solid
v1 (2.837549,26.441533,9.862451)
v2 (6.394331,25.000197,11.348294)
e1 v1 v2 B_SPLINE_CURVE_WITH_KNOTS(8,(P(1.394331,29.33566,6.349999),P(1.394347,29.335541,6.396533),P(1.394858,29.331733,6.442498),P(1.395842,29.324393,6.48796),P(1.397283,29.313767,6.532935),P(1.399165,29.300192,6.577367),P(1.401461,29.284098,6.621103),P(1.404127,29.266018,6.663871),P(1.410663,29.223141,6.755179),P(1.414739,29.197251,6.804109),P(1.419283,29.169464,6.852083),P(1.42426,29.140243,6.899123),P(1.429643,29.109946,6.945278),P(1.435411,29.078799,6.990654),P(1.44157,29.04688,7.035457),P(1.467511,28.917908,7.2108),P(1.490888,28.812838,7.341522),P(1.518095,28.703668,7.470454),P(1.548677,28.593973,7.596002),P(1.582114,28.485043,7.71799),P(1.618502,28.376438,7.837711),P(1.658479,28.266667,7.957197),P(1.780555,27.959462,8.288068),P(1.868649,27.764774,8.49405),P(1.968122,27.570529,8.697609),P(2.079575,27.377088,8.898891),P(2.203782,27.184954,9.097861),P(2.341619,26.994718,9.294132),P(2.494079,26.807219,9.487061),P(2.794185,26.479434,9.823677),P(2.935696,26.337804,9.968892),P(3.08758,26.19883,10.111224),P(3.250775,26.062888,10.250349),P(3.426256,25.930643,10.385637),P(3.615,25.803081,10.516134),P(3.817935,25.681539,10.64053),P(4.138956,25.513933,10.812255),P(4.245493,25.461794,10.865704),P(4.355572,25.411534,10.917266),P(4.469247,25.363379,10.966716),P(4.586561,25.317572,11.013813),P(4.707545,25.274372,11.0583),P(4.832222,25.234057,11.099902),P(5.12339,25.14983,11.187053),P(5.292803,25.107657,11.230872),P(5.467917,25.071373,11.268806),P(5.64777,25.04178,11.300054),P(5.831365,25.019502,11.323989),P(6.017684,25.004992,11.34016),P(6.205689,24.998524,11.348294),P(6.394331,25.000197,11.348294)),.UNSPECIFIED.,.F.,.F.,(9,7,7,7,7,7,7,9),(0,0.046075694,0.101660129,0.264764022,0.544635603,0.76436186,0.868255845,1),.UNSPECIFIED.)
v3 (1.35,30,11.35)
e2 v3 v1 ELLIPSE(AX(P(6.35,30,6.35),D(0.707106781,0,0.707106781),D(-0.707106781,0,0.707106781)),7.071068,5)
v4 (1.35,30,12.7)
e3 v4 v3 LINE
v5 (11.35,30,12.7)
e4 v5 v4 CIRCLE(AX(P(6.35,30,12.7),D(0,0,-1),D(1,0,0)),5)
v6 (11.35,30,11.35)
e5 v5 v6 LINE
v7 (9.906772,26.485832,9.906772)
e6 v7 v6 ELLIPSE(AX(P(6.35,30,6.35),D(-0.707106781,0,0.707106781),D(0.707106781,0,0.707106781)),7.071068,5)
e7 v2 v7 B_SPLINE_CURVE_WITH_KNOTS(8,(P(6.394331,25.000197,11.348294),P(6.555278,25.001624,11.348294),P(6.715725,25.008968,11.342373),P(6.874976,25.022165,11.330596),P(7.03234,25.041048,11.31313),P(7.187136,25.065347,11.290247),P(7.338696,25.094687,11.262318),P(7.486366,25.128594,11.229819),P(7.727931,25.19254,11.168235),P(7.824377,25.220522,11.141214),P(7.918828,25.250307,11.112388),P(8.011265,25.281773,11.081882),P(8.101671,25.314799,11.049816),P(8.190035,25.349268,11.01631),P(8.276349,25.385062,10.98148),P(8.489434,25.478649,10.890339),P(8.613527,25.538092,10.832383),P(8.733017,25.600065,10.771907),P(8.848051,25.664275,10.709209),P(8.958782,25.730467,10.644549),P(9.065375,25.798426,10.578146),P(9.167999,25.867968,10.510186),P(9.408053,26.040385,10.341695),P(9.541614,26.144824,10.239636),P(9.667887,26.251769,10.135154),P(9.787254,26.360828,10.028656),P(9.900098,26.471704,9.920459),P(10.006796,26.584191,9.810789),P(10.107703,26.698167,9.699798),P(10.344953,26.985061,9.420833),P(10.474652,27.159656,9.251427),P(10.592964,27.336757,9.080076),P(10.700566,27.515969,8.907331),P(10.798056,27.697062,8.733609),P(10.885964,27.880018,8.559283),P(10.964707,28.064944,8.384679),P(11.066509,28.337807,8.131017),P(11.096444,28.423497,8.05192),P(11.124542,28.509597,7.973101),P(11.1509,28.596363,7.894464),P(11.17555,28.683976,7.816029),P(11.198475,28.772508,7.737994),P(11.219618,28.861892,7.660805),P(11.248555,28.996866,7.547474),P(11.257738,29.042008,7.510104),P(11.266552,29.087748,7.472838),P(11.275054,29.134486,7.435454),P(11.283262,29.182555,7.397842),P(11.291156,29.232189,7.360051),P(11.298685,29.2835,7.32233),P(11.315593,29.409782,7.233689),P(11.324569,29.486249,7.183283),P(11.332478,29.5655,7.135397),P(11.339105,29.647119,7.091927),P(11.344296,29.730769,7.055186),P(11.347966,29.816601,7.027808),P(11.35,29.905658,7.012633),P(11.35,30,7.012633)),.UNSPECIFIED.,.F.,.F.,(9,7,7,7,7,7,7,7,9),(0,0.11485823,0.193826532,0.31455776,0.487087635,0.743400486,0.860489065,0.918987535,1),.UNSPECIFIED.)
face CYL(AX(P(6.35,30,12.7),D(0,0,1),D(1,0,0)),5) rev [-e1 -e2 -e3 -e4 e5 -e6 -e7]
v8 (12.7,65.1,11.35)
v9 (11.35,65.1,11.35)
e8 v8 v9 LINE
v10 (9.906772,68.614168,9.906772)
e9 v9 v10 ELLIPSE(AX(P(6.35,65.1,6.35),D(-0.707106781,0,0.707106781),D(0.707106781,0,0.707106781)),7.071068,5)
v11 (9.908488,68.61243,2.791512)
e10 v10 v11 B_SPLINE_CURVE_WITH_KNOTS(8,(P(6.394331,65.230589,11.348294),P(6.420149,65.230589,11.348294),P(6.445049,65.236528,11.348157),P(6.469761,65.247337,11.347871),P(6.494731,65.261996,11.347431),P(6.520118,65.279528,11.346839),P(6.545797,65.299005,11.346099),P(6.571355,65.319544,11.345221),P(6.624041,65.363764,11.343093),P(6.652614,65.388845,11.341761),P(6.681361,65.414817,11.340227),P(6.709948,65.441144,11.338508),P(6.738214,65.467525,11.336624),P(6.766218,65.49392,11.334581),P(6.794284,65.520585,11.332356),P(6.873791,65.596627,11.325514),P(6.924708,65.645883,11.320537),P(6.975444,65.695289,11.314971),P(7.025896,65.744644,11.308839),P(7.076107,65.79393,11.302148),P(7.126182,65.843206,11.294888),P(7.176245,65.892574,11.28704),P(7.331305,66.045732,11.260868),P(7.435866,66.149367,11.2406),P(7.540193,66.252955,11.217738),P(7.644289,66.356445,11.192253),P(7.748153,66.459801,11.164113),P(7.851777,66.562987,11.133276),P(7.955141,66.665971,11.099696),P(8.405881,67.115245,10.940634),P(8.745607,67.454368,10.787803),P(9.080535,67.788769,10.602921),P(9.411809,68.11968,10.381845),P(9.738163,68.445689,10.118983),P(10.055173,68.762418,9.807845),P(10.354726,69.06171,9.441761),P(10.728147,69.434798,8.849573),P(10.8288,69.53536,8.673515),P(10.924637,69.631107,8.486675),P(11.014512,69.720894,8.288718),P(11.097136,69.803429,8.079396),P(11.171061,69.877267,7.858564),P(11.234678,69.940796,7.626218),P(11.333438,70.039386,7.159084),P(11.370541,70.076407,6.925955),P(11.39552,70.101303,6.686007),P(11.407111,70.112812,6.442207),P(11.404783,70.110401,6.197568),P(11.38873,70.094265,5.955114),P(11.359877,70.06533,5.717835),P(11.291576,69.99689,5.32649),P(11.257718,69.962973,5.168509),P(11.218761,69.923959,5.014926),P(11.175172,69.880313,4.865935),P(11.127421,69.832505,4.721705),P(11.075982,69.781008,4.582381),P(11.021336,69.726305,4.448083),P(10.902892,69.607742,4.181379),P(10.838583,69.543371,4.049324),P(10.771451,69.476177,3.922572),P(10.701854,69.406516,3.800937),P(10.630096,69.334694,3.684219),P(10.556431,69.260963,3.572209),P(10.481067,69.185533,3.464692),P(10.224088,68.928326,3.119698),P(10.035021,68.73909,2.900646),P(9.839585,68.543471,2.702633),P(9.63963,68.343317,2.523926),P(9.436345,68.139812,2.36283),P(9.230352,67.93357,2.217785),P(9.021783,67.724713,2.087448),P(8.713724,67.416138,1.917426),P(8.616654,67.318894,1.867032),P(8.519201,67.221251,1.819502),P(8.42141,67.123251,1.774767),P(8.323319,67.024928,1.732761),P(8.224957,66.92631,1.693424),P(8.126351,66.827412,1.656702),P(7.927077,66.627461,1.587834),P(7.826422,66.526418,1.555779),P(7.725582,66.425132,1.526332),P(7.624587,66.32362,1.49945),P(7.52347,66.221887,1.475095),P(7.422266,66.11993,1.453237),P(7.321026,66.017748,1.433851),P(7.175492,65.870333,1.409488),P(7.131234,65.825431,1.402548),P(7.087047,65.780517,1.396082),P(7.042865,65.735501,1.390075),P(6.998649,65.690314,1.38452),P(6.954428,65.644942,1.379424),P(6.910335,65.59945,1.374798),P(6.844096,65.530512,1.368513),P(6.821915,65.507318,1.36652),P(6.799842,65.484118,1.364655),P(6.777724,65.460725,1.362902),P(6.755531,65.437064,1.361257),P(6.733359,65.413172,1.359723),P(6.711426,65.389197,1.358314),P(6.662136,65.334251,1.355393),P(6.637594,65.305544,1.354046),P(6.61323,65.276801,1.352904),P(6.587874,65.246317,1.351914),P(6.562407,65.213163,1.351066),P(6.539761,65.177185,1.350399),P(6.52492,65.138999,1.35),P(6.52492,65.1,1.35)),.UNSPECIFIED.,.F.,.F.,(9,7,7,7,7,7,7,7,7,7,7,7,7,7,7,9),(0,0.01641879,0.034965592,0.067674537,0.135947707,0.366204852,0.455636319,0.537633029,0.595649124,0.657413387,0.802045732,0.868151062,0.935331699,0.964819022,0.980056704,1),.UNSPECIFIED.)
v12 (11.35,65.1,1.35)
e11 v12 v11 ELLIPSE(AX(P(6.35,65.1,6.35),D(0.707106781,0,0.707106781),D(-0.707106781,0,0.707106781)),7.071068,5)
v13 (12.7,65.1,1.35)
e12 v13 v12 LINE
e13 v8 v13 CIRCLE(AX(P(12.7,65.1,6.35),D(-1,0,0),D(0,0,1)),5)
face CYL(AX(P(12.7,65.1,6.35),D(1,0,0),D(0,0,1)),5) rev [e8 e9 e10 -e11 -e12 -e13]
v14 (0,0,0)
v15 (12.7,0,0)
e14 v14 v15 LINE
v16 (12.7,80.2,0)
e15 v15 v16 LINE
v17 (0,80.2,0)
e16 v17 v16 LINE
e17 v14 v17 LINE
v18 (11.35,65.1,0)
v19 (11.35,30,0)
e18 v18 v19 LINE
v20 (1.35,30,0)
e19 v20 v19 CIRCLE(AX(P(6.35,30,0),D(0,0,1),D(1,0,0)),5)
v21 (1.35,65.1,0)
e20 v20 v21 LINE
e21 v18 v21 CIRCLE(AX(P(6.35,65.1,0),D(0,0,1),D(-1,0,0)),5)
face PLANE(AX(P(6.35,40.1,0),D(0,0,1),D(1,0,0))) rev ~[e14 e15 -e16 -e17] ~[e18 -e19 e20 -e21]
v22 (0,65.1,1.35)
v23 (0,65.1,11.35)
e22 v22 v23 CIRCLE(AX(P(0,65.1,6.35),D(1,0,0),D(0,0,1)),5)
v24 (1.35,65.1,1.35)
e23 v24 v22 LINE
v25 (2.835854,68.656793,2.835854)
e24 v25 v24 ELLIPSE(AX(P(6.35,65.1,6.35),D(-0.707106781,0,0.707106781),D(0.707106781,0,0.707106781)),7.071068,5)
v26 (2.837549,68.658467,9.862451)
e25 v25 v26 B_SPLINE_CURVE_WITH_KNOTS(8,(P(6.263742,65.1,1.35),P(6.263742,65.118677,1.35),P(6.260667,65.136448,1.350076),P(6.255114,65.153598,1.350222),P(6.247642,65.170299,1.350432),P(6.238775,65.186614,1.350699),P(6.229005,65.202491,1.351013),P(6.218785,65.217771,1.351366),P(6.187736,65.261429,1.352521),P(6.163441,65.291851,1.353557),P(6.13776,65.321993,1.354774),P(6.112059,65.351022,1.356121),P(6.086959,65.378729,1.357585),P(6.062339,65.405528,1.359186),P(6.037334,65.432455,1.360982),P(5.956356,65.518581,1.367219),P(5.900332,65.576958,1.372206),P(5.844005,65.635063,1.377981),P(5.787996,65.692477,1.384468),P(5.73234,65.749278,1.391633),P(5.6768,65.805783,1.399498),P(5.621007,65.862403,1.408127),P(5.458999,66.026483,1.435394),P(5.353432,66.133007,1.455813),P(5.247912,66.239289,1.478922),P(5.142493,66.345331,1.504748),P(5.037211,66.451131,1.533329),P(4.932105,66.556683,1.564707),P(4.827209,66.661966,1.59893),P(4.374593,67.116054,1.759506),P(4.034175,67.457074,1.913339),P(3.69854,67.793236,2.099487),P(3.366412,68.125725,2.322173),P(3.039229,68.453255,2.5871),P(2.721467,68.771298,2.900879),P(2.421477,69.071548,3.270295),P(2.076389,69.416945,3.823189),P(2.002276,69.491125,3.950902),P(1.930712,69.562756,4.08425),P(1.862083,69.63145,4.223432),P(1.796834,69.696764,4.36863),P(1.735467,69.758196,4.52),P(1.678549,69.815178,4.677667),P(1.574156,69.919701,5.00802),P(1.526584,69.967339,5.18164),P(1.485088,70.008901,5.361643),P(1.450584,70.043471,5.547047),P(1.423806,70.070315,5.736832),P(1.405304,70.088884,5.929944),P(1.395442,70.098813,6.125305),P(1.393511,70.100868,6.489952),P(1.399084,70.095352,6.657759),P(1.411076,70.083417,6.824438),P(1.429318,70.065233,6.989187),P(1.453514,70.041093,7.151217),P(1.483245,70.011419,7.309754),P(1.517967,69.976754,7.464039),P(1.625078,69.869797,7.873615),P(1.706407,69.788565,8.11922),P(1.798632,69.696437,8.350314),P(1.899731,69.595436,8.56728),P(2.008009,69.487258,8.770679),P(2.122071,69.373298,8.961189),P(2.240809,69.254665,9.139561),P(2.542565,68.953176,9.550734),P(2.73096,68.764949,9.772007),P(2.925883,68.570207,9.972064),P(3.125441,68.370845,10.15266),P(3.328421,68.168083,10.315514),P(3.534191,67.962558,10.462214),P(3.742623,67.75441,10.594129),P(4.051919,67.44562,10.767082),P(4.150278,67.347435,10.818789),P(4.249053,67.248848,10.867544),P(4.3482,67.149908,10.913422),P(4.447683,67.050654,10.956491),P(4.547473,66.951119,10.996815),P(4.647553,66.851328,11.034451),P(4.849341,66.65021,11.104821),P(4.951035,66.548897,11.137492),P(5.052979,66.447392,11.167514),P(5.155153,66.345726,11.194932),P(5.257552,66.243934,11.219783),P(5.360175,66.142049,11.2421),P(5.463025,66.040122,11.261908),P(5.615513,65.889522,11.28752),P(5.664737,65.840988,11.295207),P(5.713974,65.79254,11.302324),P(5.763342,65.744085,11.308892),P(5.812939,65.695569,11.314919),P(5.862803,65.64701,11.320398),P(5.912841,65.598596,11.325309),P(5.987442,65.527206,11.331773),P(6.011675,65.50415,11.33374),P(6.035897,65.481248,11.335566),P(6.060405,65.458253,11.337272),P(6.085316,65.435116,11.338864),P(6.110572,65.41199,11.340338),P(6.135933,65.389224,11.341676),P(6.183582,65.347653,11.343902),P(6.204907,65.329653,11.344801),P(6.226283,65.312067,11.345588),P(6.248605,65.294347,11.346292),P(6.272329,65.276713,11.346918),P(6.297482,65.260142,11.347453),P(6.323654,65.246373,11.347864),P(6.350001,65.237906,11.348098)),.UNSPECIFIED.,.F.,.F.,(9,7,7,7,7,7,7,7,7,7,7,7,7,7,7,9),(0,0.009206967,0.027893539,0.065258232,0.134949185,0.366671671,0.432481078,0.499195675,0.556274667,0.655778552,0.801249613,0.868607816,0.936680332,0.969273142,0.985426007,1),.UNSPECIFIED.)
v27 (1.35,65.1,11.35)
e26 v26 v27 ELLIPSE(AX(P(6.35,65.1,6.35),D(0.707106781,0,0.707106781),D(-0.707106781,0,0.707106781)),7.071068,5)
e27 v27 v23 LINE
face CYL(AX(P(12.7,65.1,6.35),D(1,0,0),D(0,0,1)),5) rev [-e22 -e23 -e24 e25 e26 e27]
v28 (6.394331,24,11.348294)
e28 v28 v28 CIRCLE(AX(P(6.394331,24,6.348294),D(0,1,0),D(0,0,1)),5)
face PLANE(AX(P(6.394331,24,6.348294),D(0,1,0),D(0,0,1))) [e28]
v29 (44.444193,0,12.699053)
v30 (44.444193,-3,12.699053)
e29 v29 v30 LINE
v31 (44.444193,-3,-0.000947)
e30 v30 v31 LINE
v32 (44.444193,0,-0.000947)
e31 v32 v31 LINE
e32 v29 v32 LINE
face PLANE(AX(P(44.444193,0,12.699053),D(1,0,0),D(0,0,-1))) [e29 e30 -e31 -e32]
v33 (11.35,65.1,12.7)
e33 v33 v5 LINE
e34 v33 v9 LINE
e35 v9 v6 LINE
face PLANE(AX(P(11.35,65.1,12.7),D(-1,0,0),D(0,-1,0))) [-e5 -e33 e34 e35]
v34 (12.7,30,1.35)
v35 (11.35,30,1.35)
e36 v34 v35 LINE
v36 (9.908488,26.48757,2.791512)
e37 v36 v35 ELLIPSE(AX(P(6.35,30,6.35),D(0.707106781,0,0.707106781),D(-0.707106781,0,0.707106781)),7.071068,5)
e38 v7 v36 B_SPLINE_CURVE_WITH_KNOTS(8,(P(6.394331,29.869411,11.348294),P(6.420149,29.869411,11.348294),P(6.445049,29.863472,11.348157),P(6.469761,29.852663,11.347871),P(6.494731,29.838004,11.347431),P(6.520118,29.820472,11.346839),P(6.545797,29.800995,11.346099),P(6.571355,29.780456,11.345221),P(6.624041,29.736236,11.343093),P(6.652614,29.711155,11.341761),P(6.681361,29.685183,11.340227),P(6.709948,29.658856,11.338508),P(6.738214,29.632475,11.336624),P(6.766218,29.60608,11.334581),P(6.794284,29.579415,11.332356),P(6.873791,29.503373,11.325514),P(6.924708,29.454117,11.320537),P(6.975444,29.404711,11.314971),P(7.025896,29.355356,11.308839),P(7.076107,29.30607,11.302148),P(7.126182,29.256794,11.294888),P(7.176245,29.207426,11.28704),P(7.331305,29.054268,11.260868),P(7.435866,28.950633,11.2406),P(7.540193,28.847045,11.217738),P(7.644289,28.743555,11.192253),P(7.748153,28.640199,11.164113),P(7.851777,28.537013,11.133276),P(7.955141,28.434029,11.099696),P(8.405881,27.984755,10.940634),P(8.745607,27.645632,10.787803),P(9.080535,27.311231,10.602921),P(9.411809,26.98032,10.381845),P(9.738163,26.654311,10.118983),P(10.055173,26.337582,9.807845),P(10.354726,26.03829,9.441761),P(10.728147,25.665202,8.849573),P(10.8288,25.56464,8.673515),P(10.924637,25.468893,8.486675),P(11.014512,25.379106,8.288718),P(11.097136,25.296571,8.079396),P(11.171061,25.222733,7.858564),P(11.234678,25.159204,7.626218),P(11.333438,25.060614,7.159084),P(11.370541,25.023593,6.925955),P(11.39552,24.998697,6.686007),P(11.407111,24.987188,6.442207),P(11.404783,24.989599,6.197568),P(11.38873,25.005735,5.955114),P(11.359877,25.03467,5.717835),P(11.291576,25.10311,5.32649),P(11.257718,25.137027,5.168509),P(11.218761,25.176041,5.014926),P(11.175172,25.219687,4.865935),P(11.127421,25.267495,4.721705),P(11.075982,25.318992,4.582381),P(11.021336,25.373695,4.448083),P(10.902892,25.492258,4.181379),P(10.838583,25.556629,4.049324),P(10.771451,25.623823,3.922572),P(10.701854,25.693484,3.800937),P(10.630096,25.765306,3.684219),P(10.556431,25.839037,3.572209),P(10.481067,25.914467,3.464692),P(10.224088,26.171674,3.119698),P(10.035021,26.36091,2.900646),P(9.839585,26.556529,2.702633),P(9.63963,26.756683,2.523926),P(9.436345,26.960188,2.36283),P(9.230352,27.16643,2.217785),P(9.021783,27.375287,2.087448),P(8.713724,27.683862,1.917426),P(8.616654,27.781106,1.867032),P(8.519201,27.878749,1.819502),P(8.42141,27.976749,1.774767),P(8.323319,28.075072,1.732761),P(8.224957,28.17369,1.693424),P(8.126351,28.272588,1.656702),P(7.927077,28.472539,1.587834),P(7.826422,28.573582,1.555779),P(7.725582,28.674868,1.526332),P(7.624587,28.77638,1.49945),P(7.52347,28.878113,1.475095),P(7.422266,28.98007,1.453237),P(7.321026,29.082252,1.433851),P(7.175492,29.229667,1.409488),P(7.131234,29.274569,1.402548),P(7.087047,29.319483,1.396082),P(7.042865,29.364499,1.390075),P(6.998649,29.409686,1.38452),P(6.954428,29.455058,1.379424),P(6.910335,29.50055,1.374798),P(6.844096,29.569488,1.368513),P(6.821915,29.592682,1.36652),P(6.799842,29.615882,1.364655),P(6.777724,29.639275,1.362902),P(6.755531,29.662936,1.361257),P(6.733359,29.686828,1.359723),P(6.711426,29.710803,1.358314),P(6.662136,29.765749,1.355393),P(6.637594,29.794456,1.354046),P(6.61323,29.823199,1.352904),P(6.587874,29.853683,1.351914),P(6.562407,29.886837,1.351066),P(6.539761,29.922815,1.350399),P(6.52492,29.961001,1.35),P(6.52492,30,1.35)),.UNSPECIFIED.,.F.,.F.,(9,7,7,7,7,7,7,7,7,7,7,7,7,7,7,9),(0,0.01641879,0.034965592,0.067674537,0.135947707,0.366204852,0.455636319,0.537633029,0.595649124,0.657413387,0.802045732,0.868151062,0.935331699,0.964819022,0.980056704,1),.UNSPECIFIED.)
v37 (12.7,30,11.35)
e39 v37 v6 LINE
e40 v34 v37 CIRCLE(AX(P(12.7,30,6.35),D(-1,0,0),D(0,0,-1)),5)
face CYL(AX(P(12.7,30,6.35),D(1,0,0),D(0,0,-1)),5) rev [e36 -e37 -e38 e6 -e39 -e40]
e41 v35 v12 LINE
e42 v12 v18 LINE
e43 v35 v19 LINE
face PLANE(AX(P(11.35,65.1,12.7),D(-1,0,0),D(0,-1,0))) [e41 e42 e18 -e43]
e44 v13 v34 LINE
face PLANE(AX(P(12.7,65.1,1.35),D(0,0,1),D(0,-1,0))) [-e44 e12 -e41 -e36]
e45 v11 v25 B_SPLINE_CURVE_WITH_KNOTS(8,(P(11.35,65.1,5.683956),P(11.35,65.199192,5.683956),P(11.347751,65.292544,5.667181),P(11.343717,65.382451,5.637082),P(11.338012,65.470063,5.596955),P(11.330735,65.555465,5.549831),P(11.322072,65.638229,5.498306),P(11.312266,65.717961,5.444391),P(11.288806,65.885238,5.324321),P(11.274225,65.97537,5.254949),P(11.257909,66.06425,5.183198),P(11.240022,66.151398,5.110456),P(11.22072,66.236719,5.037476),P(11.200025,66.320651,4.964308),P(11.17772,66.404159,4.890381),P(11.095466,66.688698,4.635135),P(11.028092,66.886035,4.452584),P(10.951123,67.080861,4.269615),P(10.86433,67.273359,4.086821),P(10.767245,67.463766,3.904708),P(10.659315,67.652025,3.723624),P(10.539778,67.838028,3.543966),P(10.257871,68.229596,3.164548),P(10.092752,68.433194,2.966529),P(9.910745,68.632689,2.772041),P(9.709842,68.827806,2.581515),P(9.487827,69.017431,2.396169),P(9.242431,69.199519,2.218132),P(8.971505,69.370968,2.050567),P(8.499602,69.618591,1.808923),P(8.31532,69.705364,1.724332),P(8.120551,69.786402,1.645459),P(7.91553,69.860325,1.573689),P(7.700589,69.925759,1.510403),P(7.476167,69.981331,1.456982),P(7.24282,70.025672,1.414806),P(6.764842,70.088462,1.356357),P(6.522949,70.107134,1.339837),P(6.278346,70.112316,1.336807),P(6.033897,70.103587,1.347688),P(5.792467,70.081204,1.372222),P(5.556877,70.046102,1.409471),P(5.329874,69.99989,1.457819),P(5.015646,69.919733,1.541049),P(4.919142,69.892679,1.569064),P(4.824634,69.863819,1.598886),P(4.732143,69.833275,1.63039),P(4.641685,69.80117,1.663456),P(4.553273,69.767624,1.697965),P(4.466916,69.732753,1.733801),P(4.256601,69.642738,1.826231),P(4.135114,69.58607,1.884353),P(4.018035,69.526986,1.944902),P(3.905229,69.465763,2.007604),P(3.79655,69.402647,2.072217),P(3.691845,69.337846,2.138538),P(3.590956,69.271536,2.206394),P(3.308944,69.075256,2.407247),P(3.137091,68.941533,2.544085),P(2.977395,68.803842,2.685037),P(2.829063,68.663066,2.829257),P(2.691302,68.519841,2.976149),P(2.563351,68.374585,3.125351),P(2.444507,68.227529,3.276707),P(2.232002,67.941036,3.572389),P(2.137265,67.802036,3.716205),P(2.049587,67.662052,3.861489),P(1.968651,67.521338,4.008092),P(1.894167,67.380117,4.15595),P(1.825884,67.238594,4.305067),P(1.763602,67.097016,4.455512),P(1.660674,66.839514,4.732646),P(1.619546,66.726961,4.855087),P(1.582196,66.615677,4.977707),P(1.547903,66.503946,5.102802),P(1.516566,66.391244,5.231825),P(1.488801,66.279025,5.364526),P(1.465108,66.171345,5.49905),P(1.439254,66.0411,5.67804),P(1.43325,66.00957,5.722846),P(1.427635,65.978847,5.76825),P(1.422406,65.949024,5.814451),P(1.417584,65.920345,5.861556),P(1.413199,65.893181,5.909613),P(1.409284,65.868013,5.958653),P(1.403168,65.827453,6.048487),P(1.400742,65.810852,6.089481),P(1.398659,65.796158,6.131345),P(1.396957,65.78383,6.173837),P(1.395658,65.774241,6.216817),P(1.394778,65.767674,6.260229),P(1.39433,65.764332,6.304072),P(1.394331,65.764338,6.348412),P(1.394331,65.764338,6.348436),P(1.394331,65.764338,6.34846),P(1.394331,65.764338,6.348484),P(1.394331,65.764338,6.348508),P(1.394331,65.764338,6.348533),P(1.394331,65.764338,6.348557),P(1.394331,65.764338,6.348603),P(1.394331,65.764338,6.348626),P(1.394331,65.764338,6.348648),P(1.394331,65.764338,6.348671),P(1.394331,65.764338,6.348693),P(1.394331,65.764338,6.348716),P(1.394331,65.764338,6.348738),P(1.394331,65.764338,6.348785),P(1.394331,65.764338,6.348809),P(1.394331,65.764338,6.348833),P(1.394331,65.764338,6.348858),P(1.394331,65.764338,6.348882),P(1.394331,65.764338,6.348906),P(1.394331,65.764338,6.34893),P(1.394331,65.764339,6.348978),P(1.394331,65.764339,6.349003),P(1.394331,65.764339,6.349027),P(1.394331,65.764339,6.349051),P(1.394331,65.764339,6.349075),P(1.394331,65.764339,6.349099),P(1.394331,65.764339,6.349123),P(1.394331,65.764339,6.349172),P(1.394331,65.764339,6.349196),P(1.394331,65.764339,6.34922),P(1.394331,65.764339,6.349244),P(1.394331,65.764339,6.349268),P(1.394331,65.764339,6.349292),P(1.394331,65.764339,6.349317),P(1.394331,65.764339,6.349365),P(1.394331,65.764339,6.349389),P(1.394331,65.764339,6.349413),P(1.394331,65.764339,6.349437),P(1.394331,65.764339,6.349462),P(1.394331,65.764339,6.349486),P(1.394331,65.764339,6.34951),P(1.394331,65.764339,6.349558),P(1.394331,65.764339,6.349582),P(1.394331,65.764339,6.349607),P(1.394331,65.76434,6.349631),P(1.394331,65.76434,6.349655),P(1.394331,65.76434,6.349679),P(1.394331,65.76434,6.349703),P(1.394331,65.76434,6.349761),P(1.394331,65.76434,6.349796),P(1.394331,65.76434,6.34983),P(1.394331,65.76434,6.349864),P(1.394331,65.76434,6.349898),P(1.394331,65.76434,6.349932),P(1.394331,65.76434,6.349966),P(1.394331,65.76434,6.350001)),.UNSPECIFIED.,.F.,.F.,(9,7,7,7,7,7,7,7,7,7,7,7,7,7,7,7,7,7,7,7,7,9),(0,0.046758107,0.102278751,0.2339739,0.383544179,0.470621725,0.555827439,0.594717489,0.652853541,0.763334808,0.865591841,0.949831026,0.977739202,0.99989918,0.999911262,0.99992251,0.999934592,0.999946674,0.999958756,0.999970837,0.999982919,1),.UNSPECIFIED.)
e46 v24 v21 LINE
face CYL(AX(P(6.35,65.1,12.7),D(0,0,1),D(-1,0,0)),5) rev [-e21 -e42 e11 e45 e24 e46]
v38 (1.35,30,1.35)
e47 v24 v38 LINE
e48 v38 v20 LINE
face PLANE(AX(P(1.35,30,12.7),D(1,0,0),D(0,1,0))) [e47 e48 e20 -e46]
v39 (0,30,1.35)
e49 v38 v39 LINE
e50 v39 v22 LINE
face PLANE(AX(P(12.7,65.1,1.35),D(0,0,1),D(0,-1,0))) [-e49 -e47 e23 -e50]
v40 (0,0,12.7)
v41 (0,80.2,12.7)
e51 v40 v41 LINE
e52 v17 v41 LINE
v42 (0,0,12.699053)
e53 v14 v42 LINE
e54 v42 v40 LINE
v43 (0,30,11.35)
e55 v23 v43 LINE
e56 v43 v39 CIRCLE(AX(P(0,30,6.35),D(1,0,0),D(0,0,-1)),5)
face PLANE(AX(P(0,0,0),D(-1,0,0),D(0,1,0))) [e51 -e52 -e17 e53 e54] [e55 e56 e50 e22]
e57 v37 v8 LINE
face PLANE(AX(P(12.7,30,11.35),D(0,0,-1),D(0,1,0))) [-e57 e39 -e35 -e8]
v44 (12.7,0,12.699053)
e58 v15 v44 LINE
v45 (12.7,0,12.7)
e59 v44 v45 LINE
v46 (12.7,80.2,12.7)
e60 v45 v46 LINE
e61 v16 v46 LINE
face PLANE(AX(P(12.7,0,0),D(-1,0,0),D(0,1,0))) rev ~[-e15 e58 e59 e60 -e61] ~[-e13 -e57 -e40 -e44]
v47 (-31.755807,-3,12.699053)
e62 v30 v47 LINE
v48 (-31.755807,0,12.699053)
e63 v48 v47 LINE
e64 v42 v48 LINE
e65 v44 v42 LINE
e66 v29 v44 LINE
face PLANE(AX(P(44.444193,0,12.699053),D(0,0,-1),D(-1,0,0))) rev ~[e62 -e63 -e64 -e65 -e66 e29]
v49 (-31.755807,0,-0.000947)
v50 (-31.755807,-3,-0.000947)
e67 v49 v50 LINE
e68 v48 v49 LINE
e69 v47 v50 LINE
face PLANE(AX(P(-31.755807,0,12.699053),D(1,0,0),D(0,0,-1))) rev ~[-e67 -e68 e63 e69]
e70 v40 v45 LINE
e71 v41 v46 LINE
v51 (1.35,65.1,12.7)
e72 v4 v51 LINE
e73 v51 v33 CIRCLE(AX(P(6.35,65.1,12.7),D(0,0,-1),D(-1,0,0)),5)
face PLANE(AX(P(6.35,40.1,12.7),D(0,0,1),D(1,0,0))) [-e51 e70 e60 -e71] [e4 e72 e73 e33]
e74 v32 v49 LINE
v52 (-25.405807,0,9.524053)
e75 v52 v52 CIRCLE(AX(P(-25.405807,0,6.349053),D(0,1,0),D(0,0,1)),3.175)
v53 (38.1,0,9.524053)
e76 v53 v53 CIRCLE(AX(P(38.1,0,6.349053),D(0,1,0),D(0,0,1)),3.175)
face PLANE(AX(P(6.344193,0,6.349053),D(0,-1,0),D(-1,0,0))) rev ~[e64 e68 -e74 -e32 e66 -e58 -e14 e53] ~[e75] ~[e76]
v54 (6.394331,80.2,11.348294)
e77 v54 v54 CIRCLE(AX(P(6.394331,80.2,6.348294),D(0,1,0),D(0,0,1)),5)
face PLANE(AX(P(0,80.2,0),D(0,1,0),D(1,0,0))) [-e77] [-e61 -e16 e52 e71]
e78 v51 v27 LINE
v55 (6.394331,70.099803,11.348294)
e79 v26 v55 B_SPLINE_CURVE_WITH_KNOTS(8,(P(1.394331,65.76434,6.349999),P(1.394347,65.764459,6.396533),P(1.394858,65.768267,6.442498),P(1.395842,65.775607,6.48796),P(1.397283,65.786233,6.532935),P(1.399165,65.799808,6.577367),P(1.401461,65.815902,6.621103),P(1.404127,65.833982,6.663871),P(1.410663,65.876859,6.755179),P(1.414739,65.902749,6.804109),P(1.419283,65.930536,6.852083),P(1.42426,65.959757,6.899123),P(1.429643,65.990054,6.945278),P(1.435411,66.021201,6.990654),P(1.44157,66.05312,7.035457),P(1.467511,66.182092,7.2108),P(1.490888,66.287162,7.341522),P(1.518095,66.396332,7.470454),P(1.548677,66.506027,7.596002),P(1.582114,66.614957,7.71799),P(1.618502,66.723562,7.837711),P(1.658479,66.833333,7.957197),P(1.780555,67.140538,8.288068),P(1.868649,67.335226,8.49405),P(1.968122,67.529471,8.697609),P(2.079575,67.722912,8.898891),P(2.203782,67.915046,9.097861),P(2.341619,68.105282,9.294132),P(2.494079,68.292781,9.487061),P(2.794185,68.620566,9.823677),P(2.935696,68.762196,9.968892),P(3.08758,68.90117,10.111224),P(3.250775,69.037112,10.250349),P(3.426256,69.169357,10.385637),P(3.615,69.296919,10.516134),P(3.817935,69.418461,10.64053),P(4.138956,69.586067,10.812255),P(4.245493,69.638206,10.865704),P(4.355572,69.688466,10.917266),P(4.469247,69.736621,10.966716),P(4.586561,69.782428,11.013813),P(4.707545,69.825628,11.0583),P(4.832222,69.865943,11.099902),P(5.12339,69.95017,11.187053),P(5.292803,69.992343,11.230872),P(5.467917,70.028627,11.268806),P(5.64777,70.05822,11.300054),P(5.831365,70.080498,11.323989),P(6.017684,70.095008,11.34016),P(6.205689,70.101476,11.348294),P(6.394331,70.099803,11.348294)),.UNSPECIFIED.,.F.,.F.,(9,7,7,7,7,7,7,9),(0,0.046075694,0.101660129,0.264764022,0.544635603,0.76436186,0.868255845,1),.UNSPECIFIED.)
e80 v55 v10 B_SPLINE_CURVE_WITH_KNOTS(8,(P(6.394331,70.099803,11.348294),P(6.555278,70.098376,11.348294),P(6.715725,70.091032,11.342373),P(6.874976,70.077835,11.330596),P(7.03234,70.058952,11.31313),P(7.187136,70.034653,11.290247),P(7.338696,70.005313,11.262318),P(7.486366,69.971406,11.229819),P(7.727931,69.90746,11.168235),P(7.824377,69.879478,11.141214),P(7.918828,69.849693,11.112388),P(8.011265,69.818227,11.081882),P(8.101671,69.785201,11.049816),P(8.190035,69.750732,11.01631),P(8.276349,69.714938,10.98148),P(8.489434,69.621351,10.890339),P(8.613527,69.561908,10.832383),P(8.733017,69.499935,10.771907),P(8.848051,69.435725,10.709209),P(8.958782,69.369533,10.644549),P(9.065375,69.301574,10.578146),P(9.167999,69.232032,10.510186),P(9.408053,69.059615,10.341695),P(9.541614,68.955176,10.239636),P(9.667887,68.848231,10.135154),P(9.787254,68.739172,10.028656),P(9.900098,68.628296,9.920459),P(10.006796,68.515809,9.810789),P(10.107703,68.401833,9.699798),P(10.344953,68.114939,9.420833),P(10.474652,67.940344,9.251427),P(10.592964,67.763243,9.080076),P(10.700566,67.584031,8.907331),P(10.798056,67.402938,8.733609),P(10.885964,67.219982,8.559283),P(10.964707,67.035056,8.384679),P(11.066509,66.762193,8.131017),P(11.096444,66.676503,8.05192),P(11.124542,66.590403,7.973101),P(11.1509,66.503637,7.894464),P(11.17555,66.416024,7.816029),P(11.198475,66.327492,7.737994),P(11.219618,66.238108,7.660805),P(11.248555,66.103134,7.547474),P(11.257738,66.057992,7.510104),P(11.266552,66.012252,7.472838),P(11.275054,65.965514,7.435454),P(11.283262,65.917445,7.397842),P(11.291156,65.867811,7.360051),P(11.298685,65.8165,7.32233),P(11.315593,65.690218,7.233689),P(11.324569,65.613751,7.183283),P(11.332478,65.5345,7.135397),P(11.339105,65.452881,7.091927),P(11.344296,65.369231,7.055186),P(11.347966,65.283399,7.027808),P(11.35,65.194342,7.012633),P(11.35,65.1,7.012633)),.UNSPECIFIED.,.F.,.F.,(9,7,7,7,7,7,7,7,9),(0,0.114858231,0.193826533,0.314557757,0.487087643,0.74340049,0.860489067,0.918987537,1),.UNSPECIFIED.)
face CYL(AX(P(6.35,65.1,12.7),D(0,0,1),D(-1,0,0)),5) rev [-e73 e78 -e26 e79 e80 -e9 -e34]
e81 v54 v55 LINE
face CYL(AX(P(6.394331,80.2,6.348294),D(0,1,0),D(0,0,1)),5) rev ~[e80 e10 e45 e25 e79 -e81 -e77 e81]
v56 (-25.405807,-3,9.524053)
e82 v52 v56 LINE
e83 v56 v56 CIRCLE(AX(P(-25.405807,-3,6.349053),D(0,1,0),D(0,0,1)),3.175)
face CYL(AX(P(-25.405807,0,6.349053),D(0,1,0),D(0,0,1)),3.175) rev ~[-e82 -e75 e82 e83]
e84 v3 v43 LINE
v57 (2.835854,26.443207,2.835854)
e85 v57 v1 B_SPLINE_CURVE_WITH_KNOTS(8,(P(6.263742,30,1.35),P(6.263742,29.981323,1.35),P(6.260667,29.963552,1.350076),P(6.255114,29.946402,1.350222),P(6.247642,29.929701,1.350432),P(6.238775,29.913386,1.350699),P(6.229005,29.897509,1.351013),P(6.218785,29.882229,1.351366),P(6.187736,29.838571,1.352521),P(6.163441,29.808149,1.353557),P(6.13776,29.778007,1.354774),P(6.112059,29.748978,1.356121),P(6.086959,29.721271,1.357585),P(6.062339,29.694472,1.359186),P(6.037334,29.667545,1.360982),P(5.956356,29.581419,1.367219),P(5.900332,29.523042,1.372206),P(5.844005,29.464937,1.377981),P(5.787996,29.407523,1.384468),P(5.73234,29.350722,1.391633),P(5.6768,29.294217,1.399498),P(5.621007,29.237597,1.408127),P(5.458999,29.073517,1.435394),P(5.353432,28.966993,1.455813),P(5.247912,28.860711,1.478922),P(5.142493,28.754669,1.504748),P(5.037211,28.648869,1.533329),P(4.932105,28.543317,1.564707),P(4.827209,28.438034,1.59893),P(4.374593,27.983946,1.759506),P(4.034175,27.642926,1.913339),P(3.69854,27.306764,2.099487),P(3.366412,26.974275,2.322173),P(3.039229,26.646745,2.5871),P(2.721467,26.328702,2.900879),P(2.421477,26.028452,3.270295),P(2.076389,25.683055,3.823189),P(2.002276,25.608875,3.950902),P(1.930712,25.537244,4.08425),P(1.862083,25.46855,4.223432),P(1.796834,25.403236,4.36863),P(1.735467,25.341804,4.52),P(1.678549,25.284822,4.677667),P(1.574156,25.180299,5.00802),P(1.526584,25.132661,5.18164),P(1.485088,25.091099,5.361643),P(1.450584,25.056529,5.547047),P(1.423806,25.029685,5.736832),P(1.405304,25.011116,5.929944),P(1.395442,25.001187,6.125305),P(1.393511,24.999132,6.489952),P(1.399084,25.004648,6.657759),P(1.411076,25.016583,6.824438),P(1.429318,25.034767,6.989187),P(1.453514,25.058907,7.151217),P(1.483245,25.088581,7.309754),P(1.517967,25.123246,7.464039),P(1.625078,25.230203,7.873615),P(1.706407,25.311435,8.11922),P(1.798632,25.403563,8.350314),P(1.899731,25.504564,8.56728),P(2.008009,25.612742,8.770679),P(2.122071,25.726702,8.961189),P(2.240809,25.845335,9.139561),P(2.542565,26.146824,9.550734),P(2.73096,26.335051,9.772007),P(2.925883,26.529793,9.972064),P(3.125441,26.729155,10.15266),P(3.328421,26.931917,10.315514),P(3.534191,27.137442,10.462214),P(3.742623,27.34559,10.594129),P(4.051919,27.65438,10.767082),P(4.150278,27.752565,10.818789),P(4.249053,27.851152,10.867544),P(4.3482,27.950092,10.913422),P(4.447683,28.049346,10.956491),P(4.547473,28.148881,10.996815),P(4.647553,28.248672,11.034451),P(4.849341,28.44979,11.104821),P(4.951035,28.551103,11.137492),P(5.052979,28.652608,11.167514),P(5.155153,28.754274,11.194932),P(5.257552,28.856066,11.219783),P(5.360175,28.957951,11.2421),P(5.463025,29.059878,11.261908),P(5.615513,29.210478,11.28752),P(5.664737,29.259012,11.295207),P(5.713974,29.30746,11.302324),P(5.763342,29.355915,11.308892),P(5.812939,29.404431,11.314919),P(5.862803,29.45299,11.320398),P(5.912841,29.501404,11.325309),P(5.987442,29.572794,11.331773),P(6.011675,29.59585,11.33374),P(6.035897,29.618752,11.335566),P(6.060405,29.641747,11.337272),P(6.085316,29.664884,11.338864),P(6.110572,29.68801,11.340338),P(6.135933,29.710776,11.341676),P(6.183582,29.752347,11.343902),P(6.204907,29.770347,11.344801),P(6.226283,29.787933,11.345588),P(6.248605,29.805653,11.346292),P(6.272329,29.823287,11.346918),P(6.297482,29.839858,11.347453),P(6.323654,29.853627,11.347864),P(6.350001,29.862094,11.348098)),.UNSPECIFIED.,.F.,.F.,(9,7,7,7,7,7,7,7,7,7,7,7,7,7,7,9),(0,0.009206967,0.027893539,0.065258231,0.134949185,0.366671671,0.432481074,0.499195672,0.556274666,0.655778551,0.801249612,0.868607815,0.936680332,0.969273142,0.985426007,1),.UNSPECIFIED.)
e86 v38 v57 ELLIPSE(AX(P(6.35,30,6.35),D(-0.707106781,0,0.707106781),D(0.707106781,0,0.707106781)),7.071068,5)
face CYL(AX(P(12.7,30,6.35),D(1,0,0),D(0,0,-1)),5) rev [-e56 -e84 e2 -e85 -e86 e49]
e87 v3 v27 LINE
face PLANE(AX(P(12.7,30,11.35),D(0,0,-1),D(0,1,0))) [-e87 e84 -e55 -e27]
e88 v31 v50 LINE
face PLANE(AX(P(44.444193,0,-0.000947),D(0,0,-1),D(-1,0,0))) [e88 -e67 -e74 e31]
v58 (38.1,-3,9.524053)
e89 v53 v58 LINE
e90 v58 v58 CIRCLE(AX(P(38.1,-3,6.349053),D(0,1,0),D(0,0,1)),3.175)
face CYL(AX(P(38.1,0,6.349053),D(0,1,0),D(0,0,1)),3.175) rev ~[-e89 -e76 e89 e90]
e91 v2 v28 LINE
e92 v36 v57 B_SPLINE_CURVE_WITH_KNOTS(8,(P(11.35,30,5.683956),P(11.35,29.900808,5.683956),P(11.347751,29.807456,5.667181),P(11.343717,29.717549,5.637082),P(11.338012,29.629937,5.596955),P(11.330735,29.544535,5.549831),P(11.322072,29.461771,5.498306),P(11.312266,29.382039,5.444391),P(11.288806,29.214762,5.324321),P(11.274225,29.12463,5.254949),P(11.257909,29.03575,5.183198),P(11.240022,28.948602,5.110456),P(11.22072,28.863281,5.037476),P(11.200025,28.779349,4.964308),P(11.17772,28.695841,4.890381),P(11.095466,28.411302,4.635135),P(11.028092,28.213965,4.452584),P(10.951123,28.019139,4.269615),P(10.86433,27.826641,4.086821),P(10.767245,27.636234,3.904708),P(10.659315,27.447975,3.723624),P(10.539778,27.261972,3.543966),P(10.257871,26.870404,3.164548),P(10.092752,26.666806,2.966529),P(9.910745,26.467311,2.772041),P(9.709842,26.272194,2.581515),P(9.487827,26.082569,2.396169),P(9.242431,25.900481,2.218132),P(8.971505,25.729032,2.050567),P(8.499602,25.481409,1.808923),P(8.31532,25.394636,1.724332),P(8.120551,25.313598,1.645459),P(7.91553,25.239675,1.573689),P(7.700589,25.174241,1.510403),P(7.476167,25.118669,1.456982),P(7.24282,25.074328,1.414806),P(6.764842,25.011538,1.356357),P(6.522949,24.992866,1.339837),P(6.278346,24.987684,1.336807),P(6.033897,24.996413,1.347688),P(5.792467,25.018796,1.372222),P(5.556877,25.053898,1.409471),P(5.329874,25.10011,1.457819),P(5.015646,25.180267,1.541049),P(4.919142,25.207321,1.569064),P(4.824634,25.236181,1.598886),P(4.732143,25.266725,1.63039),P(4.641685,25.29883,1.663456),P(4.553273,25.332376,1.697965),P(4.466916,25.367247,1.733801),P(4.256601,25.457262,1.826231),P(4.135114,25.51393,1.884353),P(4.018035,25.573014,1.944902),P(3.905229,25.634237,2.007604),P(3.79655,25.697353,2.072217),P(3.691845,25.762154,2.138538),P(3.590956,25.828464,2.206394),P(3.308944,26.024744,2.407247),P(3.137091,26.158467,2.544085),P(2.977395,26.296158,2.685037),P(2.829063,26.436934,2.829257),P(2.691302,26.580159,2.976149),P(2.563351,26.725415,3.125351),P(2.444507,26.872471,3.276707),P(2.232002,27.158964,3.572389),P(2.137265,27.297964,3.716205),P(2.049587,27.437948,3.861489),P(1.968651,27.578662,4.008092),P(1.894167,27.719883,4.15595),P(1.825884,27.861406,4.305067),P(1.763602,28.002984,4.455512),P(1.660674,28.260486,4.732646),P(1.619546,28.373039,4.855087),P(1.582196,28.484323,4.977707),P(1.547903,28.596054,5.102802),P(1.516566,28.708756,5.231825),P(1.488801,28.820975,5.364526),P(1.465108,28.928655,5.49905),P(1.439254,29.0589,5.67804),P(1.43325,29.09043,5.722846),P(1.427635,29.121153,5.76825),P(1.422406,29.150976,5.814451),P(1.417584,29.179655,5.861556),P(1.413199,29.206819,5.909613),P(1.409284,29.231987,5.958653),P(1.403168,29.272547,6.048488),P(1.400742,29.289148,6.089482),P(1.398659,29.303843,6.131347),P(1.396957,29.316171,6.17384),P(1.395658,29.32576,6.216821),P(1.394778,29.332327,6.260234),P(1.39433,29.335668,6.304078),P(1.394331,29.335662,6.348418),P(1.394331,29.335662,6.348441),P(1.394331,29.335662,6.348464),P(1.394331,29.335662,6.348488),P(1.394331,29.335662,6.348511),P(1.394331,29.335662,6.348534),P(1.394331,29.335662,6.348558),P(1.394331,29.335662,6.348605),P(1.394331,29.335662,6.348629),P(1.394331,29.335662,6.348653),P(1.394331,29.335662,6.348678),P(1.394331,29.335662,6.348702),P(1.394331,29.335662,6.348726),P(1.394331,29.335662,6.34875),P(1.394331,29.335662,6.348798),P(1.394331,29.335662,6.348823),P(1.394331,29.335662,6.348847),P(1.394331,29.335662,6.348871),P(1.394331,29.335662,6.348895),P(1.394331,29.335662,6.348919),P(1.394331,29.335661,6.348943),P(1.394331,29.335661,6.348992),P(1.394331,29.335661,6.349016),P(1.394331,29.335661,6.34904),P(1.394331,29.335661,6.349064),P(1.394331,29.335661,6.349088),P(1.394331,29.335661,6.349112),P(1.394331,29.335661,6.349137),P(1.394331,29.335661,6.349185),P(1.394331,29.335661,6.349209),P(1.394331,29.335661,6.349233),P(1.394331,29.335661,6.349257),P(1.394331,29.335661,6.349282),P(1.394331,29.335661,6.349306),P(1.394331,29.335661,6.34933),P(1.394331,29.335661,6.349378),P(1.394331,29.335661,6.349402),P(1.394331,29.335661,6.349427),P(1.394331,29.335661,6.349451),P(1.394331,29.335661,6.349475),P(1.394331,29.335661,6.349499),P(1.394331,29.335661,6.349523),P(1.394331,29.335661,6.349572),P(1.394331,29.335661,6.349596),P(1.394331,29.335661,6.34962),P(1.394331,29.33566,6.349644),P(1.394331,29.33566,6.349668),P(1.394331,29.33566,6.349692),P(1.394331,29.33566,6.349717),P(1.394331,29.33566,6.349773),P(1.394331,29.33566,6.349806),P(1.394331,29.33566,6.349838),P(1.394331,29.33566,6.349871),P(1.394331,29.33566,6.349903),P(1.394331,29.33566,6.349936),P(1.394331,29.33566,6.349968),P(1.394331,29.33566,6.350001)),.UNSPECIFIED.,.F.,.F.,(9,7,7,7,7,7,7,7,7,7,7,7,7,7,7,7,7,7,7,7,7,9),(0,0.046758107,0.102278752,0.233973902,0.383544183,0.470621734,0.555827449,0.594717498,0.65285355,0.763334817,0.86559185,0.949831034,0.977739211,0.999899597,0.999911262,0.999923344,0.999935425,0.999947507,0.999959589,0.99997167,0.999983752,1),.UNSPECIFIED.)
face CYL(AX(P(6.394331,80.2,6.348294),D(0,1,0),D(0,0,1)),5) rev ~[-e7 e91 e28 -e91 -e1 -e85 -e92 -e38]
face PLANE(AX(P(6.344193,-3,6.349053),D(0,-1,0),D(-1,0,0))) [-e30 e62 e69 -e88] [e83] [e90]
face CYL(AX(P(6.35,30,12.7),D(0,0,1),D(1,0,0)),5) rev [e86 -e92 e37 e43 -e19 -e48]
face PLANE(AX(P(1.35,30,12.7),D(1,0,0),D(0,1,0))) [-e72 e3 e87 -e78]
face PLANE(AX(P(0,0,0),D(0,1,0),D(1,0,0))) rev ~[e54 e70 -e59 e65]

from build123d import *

# Parameters (mm, degrees)
SKETCH1_W           = 12.7
SKETCH1_H           = 80.2
BOSS_EXTRUDE1_DEPTH = 12.7
SKETCH4_W           = 76.2
SKETCH4_H           = 12.7
BOSS_EXTRUDE3_DEPTH = 3
CUT_EXTRUDE5_DEPTH  = 23
CUT_EXTRUDE6_DEPTH  = 23
SKETCH16_R          = 5
CUT_EXTRUDE8_DEPTH  = 56.2
SKETCH17_R          = 3.175
CUT_EXTRUDE9_DEPTH  = 3
SKETCH18_R          = 3.175
CUT_EXTRUDE10_DEPTH = 3


with BuildPart() as part:
    # Sketch1 → Boss-Extrude1 (new body)
    with BuildSketch(Plane.XY):
        with Locations((6.35, 40.1)):
            Rectangle(SKETCH1_W, SKETCH1_H)
    extrude(amount=BOSS_EXTRUDE1_DEPTH)

    # Sketch4 → Boss-Extrude3 (add)
    with BuildSketch(Plane(origin=(0, 0, 0), x_dir=(-1, 0, 0), z_dir=(0, -1, 0))):
        with Locations((-6.344193038, -6.349053499)):
            Rectangle(SKETCH4_W, SKETCH4_H)
    extrude(amount=BOSS_EXTRUDE3_DEPTH)

    # Sketch12 → Cut-Extrude5 (cut)
    with BuildSketch(Plane.XY.offset(12.7)):
        with BuildLine():
            Line((1.35, 30), (1.35, 65.1))
            ThreePointArc((1.35, 65.1), (6.35, 70.1), (11.35, 65.1))
            Line((11.35, 65.1), (11.35, 30))
            ThreePointArc((11.35, 30), (6.35, 25), (1.35, 30))
        make_face()
    extrude(amount=-CUT_EXTRUDE5_DEPTH, mode=Mode.SUBTRACT)

    # Sketch13 → Cut-Extrude6 (cut)
    with BuildSketch(Plane(origin=(12.7, 0, 0), x_dir=(0, 0, -1), z_dir=(1, 0, 0))):
        with BuildLine():
            Line((-11.35, 30), (-11.35, 65.1))
            ThreePointArc((-11.35, 65.1), (-6.35, 70.1), (-1.35, 65.1))
            Line((-1.35, 65.1), (-1.35, 30))
            ThreePointArc((-1.35, 30), (-6.35, 25), (-11.35, 30))
        make_face()
    extrude(amount=-CUT_EXTRUDE6_DEPTH, mode=Mode.SUBTRACT)

    # Sketch16 → Cut-Extrude8 (cut)
    with BuildSketch(Plane(origin=(0, 80.2, 0), x_dir=(1, 0, 0), z_dir=(0, 1, 0))):
        with Locations(Location((6.394331047, -6.34829435, 0), (0, 0, 270))):
            Circle(SKETCH16_R)
    extrude(amount=-CUT_EXTRUDE8_DEPTH, mode=Mode.SUBTRACT)

    # Sketch17 → Cut-Extrude9 (cut)
    with BuildSketch(Plane(origin=(0, 0, 0), x_dir=(1, 0, 0), z_dir=(0, 1, 0))):
        with Locations(Location((-25.405806962, -6.349053499, 0), (0, 0, 270))):
            Circle(SKETCH17_R)
    extrude(amount=-CUT_EXTRUDE9_DEPTH, mode=Mode.SUBTRACT)

    # Sketch18 → Cut-Extrude10 (cut)
    with BuildSketch(Plane(origin=(0, 0, 0), x_dir=(1, 0, 0), z_dir=(0, 1, 0))):
        with Locations(Location((38.1, -6.349053499, 0), (0, 0, 270))):
            Circle(SKETCH18_R)
    extrude(amount=-CUT_EXTRUDE10_DEPTH, mode=Mode.SUBTRACT)


solid = part.part
